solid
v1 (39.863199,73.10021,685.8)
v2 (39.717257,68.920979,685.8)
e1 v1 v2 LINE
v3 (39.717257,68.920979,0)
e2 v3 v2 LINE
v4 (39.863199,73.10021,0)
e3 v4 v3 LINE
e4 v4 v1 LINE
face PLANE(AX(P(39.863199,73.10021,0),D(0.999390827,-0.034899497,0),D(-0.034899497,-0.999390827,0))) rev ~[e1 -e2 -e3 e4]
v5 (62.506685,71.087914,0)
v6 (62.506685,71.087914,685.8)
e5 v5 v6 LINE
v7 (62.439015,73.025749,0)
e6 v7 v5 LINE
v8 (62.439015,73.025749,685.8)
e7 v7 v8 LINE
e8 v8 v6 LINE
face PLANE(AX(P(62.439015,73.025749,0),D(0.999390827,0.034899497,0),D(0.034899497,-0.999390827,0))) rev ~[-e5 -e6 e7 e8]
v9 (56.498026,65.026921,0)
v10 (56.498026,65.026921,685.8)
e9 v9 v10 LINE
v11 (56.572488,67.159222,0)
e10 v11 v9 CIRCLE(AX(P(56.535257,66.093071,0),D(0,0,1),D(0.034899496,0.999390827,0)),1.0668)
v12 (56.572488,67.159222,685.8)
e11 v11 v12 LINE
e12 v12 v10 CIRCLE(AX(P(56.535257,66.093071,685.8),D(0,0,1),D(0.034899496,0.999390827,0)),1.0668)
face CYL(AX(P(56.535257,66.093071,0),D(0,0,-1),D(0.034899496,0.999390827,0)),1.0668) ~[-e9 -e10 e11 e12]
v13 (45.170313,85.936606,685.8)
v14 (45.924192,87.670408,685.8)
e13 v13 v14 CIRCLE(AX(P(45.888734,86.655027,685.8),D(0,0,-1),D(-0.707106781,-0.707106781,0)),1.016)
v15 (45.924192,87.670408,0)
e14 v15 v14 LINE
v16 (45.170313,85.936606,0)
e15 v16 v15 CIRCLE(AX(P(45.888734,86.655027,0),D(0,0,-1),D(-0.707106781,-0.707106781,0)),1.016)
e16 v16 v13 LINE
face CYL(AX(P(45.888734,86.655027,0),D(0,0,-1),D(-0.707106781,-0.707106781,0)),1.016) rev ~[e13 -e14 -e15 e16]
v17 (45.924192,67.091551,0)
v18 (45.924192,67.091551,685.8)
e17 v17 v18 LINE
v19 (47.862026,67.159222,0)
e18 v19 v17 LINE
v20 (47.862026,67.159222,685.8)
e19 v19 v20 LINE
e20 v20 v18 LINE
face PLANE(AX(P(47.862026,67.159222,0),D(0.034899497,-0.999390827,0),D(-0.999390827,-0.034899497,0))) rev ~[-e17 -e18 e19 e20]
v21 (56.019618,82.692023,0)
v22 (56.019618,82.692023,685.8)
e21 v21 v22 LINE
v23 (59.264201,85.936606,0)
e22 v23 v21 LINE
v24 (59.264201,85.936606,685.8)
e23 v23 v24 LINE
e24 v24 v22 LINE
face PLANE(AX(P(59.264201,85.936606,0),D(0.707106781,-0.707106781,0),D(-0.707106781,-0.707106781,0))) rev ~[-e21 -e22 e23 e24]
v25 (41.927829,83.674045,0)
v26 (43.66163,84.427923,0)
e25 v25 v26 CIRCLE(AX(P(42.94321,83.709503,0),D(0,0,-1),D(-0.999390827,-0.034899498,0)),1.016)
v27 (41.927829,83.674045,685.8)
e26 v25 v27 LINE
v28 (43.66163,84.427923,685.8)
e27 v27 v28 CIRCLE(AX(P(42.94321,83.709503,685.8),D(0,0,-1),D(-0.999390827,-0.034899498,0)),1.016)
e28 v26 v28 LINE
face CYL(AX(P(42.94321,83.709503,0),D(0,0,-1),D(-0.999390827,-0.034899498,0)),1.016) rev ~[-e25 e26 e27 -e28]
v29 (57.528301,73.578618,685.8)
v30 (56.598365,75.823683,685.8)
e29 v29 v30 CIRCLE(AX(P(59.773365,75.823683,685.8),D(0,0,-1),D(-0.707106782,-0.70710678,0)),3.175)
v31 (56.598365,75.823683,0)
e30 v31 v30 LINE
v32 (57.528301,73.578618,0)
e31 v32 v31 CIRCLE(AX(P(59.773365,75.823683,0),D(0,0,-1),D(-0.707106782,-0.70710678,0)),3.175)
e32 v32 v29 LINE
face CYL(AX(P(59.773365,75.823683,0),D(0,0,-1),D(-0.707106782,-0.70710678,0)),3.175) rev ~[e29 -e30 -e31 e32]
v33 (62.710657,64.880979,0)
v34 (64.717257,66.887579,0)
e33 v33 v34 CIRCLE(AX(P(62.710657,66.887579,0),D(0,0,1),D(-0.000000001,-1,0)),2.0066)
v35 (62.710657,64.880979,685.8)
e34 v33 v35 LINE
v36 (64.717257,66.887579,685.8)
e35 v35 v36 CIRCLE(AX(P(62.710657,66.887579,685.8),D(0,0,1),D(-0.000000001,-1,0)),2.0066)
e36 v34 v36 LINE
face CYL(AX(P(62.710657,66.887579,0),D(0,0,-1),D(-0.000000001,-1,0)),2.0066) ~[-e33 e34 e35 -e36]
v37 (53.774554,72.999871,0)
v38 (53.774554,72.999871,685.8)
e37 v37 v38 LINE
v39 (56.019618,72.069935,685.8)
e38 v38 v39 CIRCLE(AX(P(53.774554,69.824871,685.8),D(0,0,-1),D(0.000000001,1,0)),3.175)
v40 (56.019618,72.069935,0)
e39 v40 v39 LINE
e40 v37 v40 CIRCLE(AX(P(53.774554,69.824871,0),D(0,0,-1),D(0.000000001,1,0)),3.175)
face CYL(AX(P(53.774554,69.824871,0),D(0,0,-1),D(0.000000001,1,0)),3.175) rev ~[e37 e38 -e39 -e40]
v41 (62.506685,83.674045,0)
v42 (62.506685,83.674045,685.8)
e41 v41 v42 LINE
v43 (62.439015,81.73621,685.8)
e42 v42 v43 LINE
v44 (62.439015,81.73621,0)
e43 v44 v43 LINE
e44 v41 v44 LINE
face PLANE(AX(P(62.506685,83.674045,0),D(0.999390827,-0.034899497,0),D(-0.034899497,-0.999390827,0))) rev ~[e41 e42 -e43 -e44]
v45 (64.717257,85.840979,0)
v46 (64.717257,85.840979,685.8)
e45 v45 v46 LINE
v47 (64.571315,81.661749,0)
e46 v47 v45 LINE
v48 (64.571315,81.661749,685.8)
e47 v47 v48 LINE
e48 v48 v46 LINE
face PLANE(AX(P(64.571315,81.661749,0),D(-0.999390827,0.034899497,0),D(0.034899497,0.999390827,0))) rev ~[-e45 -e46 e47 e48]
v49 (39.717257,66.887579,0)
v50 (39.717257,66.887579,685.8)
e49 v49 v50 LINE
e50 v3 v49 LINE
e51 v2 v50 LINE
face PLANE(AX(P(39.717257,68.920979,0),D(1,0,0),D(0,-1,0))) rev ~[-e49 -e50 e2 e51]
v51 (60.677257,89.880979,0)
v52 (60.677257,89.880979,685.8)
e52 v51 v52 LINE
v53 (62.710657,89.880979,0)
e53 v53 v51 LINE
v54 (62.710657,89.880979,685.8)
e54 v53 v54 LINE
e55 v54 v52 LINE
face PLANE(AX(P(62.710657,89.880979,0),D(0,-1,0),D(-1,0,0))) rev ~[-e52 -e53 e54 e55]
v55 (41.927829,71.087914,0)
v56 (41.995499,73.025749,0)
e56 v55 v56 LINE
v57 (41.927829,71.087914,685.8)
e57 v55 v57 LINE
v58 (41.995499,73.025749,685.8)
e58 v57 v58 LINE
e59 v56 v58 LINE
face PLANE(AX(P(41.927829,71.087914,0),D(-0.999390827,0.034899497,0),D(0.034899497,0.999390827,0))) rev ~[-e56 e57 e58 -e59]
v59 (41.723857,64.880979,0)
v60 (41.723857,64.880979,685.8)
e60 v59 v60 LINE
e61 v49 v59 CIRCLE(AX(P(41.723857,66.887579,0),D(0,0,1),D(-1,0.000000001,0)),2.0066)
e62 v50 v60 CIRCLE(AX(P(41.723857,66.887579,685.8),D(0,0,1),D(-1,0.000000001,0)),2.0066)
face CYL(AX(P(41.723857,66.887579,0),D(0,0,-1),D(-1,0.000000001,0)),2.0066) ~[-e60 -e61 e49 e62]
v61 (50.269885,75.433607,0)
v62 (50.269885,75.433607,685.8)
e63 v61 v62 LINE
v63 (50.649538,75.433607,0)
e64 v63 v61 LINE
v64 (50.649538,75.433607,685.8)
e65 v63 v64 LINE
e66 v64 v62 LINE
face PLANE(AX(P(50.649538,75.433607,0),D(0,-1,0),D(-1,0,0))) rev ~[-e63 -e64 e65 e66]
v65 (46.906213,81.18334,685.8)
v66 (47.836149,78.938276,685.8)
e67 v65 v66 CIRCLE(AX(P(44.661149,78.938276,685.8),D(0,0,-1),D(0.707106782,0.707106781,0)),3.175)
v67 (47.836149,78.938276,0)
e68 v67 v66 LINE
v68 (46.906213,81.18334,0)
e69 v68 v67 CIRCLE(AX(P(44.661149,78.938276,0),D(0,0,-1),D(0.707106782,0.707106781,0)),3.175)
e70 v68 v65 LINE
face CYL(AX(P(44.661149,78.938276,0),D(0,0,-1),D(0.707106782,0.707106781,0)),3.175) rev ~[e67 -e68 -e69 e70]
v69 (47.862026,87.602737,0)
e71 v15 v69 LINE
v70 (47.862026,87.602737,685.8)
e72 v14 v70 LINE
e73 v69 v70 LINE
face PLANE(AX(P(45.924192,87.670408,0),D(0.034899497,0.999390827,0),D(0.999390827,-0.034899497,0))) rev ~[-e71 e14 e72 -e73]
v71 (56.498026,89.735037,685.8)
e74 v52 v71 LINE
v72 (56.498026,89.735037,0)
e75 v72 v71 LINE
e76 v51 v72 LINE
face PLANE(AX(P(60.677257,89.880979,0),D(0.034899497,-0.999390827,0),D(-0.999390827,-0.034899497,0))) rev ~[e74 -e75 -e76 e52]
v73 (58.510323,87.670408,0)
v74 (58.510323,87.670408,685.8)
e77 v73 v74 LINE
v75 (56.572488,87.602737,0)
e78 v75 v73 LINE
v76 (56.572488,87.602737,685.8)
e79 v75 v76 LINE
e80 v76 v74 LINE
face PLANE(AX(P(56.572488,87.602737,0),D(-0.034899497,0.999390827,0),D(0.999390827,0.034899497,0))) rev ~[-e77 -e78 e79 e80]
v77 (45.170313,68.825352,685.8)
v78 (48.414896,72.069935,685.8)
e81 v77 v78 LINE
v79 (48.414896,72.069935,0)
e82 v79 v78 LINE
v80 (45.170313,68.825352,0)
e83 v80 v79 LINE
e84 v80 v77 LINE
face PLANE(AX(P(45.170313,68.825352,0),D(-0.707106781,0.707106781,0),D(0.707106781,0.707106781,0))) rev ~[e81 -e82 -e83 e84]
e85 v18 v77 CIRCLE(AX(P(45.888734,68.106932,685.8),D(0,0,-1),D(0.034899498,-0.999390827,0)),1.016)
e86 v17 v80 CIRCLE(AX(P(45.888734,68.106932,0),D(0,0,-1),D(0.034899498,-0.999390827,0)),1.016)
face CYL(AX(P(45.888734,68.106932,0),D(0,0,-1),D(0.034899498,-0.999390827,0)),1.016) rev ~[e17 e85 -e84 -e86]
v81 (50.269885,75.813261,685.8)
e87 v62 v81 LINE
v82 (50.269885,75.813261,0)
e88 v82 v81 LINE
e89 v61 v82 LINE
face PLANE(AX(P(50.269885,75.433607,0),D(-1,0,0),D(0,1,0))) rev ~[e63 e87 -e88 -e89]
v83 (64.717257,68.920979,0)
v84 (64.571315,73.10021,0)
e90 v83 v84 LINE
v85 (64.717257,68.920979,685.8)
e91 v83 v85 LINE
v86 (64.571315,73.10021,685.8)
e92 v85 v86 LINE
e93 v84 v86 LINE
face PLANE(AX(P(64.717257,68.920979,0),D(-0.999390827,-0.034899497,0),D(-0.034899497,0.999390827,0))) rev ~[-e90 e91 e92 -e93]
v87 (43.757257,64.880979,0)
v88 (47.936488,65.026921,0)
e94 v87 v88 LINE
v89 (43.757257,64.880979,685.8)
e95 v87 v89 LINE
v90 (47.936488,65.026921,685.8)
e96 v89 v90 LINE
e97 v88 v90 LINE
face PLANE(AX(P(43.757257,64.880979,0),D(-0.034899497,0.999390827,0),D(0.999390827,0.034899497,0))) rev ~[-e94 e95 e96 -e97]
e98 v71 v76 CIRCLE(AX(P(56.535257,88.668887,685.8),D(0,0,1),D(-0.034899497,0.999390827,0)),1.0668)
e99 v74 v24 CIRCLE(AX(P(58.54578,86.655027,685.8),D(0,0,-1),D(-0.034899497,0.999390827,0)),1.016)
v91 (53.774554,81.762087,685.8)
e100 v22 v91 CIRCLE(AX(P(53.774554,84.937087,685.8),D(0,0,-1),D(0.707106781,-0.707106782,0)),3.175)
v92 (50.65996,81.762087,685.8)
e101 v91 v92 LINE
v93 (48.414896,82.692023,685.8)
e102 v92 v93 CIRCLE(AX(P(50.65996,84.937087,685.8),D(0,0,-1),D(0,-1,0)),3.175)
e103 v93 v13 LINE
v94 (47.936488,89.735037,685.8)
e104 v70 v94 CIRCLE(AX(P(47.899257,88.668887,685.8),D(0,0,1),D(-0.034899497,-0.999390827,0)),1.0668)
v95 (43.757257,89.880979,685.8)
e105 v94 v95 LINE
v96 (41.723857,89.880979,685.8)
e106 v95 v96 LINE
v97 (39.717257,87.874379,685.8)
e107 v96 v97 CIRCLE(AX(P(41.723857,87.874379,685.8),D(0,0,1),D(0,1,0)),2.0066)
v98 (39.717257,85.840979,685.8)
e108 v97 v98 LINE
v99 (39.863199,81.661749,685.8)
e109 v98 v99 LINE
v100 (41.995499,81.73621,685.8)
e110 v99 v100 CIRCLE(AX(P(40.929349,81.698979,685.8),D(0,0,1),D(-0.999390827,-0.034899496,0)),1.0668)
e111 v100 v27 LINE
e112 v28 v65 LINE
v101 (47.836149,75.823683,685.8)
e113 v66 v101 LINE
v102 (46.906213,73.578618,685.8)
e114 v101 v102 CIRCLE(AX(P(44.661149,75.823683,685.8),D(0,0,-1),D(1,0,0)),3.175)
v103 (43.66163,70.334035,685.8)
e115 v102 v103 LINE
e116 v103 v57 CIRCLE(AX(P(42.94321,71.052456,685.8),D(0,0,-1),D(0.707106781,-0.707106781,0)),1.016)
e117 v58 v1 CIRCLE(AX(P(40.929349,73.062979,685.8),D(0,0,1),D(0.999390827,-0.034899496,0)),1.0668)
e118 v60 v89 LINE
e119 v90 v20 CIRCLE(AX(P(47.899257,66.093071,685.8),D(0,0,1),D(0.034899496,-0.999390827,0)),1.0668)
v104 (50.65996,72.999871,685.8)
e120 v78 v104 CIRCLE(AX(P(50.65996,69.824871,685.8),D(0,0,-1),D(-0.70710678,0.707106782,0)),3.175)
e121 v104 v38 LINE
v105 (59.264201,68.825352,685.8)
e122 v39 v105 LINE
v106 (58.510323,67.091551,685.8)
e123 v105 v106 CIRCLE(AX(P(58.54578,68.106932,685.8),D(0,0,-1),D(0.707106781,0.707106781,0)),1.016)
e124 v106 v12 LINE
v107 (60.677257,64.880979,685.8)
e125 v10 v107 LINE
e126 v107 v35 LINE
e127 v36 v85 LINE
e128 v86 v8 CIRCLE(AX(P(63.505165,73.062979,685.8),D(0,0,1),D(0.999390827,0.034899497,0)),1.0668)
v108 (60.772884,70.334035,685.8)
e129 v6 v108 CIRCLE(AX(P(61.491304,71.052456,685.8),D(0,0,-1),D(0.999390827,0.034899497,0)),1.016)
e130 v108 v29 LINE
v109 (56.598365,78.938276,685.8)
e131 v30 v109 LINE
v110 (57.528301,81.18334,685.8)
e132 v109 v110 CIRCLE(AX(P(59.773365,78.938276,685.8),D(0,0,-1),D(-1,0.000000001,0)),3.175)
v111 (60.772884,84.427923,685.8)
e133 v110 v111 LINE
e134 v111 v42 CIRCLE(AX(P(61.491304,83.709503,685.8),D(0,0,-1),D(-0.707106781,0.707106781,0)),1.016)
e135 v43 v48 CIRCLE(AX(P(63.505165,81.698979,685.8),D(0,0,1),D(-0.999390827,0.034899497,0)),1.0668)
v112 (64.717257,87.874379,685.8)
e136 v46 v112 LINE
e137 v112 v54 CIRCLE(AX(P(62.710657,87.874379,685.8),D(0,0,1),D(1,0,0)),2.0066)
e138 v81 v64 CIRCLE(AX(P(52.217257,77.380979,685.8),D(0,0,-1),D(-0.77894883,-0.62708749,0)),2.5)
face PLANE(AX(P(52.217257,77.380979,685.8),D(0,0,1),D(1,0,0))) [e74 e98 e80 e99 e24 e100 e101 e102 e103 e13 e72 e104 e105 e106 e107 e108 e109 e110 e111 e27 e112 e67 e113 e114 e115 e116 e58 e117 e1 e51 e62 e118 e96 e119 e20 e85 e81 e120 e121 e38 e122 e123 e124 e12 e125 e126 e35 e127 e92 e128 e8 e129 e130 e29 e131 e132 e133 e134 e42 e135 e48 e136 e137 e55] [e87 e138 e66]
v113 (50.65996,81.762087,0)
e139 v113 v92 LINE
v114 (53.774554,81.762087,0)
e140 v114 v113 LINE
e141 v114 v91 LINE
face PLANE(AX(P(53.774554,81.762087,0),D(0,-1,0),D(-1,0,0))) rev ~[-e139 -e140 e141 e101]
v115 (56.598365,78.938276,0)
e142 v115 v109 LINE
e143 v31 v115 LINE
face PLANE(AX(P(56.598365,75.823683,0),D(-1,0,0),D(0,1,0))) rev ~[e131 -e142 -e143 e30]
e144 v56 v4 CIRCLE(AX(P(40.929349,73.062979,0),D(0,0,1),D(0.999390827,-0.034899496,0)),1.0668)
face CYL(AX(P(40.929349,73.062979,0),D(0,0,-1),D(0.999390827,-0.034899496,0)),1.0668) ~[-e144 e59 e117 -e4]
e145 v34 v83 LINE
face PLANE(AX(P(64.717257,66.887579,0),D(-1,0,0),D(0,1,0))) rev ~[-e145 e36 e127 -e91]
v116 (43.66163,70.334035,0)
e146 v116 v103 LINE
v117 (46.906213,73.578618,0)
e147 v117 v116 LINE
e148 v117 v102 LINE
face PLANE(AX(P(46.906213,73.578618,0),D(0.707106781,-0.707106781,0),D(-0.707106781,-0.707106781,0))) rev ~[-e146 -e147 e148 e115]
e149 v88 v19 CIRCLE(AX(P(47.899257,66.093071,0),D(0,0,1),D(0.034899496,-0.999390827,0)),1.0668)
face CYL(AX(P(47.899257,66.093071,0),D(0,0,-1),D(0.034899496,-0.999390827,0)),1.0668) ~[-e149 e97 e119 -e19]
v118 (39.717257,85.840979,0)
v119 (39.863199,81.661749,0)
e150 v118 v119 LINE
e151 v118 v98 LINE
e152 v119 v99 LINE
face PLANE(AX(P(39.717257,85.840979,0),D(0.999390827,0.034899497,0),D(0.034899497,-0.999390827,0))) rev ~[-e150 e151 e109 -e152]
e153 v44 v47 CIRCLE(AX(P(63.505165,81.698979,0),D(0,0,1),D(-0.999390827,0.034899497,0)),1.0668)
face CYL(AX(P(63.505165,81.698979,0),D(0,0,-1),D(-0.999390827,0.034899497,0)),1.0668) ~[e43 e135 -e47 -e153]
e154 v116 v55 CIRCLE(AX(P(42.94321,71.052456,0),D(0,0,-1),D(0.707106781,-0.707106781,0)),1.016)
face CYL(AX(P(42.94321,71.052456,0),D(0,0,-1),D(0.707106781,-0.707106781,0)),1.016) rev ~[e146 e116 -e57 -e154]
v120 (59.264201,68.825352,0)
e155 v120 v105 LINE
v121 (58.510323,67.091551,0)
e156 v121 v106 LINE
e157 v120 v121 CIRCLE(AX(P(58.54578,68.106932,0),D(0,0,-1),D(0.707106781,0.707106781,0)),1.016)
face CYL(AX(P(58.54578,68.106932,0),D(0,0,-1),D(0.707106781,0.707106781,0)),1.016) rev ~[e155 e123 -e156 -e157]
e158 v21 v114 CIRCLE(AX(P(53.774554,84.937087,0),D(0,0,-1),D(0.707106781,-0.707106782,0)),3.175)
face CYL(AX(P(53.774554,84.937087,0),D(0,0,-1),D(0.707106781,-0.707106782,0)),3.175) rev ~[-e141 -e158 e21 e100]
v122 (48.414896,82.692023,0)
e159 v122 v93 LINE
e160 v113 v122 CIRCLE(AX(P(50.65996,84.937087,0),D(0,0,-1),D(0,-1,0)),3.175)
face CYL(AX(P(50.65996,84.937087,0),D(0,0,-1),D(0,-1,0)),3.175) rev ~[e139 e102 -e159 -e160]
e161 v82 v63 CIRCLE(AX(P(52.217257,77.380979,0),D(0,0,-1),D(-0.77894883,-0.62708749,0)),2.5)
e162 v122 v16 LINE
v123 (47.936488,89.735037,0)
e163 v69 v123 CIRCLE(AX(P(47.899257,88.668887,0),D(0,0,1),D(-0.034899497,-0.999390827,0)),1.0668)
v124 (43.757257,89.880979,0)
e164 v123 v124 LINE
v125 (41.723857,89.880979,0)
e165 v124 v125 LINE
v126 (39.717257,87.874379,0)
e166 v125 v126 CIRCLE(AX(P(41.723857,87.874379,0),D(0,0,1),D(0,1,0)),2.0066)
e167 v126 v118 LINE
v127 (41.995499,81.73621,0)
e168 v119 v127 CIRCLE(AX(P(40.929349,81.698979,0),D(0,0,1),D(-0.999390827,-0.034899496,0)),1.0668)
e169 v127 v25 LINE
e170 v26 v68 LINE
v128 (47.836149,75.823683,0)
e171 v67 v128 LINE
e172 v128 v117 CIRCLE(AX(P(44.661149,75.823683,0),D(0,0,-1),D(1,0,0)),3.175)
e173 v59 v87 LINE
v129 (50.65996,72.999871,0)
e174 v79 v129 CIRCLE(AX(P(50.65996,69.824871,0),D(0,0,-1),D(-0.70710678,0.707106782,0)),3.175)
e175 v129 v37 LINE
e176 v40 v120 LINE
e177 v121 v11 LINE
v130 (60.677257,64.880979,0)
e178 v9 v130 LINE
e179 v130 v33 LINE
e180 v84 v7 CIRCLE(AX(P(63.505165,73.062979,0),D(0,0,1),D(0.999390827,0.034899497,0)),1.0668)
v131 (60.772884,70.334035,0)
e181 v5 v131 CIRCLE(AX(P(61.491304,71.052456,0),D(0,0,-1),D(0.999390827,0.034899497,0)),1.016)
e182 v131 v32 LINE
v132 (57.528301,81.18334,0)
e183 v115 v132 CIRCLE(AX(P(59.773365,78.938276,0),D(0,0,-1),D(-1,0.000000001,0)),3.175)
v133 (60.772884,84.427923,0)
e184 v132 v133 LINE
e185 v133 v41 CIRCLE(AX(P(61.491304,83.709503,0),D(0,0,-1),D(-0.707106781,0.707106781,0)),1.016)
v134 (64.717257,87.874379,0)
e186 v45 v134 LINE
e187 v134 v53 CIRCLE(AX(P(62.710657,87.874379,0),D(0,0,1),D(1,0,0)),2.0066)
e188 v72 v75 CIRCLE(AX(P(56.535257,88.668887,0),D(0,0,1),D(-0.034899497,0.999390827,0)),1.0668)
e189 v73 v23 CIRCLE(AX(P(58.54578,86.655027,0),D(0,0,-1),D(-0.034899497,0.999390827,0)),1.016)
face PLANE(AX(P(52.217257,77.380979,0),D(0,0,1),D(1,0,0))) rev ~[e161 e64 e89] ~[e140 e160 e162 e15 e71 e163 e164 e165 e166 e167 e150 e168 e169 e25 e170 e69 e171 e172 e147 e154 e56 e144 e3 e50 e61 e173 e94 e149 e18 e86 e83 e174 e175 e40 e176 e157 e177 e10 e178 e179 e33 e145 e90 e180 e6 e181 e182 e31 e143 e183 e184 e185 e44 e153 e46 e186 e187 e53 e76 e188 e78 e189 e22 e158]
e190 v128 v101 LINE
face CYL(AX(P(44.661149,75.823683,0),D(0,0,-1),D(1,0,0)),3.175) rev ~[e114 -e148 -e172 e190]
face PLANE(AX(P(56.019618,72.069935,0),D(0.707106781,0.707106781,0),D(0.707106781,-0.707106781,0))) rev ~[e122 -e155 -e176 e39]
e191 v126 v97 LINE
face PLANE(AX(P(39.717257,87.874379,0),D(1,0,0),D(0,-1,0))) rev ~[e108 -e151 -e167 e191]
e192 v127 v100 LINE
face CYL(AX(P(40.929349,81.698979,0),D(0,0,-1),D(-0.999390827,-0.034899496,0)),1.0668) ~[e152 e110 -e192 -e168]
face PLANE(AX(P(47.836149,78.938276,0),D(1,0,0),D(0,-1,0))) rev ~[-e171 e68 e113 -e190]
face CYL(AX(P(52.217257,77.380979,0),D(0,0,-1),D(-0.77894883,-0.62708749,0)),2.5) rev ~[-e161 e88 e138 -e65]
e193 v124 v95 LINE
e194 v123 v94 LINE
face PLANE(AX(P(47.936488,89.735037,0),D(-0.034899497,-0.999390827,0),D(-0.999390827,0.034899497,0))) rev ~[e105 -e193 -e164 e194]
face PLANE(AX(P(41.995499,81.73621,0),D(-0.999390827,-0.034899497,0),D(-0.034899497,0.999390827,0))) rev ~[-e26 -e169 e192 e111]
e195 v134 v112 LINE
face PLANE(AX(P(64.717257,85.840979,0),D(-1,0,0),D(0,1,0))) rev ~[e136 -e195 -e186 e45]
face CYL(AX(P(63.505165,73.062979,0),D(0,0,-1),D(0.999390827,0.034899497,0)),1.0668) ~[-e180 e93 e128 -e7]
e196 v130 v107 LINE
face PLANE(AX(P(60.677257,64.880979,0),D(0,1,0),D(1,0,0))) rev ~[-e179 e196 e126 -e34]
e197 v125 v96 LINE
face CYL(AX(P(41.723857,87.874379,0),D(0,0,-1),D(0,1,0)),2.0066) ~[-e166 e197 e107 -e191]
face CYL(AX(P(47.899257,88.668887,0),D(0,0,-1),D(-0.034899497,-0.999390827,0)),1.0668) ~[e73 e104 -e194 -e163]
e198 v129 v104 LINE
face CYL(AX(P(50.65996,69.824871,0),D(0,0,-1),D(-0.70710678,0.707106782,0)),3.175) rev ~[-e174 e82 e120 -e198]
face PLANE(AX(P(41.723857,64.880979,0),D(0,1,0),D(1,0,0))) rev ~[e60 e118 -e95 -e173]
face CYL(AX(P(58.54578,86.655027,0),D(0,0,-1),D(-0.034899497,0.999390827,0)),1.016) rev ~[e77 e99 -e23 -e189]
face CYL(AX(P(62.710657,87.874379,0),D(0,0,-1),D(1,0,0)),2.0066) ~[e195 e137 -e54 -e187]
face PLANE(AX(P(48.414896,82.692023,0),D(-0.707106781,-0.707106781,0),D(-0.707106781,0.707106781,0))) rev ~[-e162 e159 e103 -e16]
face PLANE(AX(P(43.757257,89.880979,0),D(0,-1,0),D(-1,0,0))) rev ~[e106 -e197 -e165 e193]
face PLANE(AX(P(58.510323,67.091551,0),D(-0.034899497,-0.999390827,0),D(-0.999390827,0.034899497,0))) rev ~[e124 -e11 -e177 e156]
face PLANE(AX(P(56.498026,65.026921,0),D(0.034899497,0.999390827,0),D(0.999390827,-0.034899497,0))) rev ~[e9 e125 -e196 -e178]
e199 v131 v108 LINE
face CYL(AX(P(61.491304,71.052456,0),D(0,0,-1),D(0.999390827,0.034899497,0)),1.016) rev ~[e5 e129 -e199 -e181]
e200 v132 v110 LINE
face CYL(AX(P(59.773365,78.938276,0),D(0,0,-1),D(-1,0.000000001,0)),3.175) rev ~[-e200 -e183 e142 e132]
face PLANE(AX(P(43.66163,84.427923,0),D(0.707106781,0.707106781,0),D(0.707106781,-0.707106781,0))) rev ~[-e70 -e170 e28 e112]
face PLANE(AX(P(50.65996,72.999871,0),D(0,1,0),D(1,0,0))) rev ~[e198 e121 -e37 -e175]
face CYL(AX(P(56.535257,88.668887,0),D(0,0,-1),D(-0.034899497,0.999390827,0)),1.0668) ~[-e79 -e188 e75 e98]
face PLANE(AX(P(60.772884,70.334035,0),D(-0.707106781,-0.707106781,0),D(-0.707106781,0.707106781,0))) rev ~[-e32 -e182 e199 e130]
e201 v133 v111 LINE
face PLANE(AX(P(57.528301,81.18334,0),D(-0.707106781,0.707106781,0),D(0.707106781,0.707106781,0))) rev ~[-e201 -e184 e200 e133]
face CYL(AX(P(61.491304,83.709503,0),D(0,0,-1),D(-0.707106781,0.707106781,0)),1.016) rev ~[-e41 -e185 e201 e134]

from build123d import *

# Parameters (mm, degrees)
BOSS_EXTRUDE1_DEPTH = 685.8


with BuildPart() as part:
    # Model → Boss-Extrude1 (new body)
    with BuildSketch(Plane.XY):
        with BuildLine():
            Line((50.659960212, 72.999871414), (53.774553856, 72.999871414))
            ThreePointArc((53.774553856, 72.999871414), (54.989573754, 72.758188929), (56.019617887, 72.069935444))
            Line((56.019617887, 72.069935444), (59.264200891, 68.825352439))
            ThreePointArc((59.264200891, 68.825352439), (59.477513437, 67.701802895), (58.510322513, 67.091550869))
            Line((58.510322513, 67.091550869), (56.572487817, 67.159221548))
            ThreePointArc((56.572487817, 67.159221548), (55.4691069, 66.130302197), (56.498026251, 65.026921279))
            Line((56.498026251, 65.026921279), (60.677257034, 64.880979325))
            Line((60.677257034, 64.880979325), (62.710657034, 64.880979325))
            ThreePointArc((62.710657034, 64.880979325), (64.129537501, 65.468698857), (64.717257034, 66.887579325))
            Line((64.717257034, 66.887579325), (64.717257034, 68.920979325))
            Line((64.717257034, 68.920979325), (64.57131508, 73.100210108))
            ThreePointArc((64.57131508, 73.100210108), (63.467934162, 74.129129459), (62.439014811, 73.025748542))
            Line((62.439014811, 73.025748542), (62.50668549, 71.087913846))
            ThreePointArc((62.50668549, 71.087913846), (61.896433464, 70.120722922), (60.77288392, 70.334035468))
            Line((60.77288392, 70.334035468), (57.528300915, 73.578618472))
            ThreePointArc((57.528300915, 73.578618472), (56.84004743, 74.608662605), (56.598364945, 75.823682503))
            Line((56.598364945, 75.823682503), (56.598364945, 78.938276147))
            ThreePointArc((56.598364945, 78.938276147), (56.84004743, 80.153296044), (57.528300915, 81.183340177))
            Line((57.528300915, 81.183340177), (60.77288392, 84.427923182))
            ThreePointArc((60.77288392, 84.427923182), (61.896433464, 84.641235728), (62.50668549, 83.674044803))
            Line((62.50668549, 83.674044803), (62.439014811, 81.736210108))
            ThreePointArc((62.439014811, 81.736210108), (63.467934162, 80.63282919), (64.57131508, 81.661748542))
            Line((64.57131508, 81.661748542), (64.717257034, 85.840979325))
            Line((64.717257034, 85.840979325), (64.717257034, 87.874379325))
            ThreePointArc((64.717257034, 87.874379325), (64.129537501, 89.293259792), (62.710657034, 89.880979325))
            Line((62.710657034, 89.880979325), (60.677257034, 89.880979325))
            Line((60.677257034, 89.880979325), (56.498026251, 89.73503737))
            ThreePointArc((56.498026251, 89.73503737), (55.4691069, 88.631656452), (56.572487817, 87.602737101))
            Line((56.572487817, 87.602737101), (58.510322513, 87.67040778))
            ThreePointArc((58.510322513, 87.67040778), (59.477513437, 87.060155754), (59.264200891, 85.93660621))
            Line((59.264200891, 85.93660621), (56.019617887, 82.692023205))
            ThreePointArc((56.019617887, 82.692023205), (54.989573754, 82.00376972), (53.774553856, 81.762087236))
            Line((53.774553856, 81.762087236), (50.659960212, 81.762087236))
            ThreePointArc((50.659960212, 81.762087236), (49.444940315, 82.00376972), (48.414896182, 82.692023205))
            Line((48.414896182, 82.692023205), (45.170313177, 85.93660621))
            ThreePointArc((45.170313177, 85.93660621), (44.957000631, 87.060155754), (45.924191556, 87.67040778))
            Line((45.924191556, 87.67040778), (47.862026251, 87.602737101))
            ThreePointArc((47.862026251, 87.602737101), (48.965407169, 88.631656452), (47.936487817, 89.73503737))
            Line((47.936487817, 89.73503737), (43.757257034, 89.880979325))
            Line((43.757257034, 89.880979325), (41.723857034, 89.880979325))
            ThreePointArc((41.723857034, 89.880979325), (40.304976567, 89.293259792), (39.717257034, 87.874379325))
            Line((39.717257034, 87.874379325), (39.717257034, 85.840979325))
            Line((39.717257034, 85.840979325), (39.863198989, 81.661748542))
            ThreePointArc((39.863198989, 81.661748542), (40.966579907, 80.63282919), (41.995499258, 81.736210108))
            Line((41.995499258, 81.736210108), (41.927828579, 83.674044803))
            ThreePointArc((41.927828579, 83.674044803), (42.538080605, 84.641235728), (43.661630149, 84.427923182))
            Line((43.661630149, 84.427923182), (46.906213154, 81.183340177))
            ThreePointArc((46.906213154, 81.183340177), (47.594466639, 80.153296044), (47.836149123, 78.938276147))
            Line((47.836149123, 78.938276147), (47.836149123, 75.823682503))
            ThreePointArc((47.836149123, 75.823682503), (47.594466639, 74.608662605), (46.906213154, 73.578618472))
            Line((46.906213154, 73.578618472), (43.661630149, 70.334035468))
            ThreePointArc((43.661630149, 70.334035468), (42.538080605, 70.120722922), (41.927828579, 71.087913846))
            Line((41.927828579, 71.087913846), (41.995499258, 73.025748542))
            ThreePointArc((41.995499258, 73.025748542), (40.966579907, 74.129129459), (39.863198989, 73.100210108))
            Line((39.863198989, 73.100210108), (39.717257034, 68.920979325))
            Line((39.717257034, 68.920979325), (39.717257034, 66.887579325))
            ThreePointArc((39.717257034, 66.887579325), (40.304976567, 65.468698857), (41.723857034, 64.880979325))
            Line((41.723857034, 64.880979325), (43.757257034, 64.880979325))
            Line((43.757257034, 64.880979325), (47.936487817, 65.026921279))
            ThreePointArc((47.936487817, 65.026921279), (48.965407169, 66.130302197), (47.862026251, 67.159221548))
            Line((47.862026251, 67.159221548), (45.924191556, 67.091550869))
            ThreePointArc((45.924191556, 67.091550869), (44.957000631, 67.701802895), (45.170313177, 68.825352439))
            Line((45.170313177, 68.825352439), (48.414896182, 72.069935444))
            ThreePointArc((48.414896182, 72.069935444), (49.444940315, 72.758188929), (50.659960212, 72.999871414))
        make_face()
        with BuildLine():
            Line((50.64953831, 75.433607249), (50.269884959, 75.433607249))
            Line((50.269884959, 75.433607249), (50.269884959, 75.8132606))
            ThreePointArc((50.269884959, 75.8132606), (53.985023987, 79.148746278), (50.64953831, 75.433607249))
        make_face(mode=Mode.SUBTRACT)
    extrude(amount=BOSS_EXTRUDE1_DEPTH)


solid = part.part
